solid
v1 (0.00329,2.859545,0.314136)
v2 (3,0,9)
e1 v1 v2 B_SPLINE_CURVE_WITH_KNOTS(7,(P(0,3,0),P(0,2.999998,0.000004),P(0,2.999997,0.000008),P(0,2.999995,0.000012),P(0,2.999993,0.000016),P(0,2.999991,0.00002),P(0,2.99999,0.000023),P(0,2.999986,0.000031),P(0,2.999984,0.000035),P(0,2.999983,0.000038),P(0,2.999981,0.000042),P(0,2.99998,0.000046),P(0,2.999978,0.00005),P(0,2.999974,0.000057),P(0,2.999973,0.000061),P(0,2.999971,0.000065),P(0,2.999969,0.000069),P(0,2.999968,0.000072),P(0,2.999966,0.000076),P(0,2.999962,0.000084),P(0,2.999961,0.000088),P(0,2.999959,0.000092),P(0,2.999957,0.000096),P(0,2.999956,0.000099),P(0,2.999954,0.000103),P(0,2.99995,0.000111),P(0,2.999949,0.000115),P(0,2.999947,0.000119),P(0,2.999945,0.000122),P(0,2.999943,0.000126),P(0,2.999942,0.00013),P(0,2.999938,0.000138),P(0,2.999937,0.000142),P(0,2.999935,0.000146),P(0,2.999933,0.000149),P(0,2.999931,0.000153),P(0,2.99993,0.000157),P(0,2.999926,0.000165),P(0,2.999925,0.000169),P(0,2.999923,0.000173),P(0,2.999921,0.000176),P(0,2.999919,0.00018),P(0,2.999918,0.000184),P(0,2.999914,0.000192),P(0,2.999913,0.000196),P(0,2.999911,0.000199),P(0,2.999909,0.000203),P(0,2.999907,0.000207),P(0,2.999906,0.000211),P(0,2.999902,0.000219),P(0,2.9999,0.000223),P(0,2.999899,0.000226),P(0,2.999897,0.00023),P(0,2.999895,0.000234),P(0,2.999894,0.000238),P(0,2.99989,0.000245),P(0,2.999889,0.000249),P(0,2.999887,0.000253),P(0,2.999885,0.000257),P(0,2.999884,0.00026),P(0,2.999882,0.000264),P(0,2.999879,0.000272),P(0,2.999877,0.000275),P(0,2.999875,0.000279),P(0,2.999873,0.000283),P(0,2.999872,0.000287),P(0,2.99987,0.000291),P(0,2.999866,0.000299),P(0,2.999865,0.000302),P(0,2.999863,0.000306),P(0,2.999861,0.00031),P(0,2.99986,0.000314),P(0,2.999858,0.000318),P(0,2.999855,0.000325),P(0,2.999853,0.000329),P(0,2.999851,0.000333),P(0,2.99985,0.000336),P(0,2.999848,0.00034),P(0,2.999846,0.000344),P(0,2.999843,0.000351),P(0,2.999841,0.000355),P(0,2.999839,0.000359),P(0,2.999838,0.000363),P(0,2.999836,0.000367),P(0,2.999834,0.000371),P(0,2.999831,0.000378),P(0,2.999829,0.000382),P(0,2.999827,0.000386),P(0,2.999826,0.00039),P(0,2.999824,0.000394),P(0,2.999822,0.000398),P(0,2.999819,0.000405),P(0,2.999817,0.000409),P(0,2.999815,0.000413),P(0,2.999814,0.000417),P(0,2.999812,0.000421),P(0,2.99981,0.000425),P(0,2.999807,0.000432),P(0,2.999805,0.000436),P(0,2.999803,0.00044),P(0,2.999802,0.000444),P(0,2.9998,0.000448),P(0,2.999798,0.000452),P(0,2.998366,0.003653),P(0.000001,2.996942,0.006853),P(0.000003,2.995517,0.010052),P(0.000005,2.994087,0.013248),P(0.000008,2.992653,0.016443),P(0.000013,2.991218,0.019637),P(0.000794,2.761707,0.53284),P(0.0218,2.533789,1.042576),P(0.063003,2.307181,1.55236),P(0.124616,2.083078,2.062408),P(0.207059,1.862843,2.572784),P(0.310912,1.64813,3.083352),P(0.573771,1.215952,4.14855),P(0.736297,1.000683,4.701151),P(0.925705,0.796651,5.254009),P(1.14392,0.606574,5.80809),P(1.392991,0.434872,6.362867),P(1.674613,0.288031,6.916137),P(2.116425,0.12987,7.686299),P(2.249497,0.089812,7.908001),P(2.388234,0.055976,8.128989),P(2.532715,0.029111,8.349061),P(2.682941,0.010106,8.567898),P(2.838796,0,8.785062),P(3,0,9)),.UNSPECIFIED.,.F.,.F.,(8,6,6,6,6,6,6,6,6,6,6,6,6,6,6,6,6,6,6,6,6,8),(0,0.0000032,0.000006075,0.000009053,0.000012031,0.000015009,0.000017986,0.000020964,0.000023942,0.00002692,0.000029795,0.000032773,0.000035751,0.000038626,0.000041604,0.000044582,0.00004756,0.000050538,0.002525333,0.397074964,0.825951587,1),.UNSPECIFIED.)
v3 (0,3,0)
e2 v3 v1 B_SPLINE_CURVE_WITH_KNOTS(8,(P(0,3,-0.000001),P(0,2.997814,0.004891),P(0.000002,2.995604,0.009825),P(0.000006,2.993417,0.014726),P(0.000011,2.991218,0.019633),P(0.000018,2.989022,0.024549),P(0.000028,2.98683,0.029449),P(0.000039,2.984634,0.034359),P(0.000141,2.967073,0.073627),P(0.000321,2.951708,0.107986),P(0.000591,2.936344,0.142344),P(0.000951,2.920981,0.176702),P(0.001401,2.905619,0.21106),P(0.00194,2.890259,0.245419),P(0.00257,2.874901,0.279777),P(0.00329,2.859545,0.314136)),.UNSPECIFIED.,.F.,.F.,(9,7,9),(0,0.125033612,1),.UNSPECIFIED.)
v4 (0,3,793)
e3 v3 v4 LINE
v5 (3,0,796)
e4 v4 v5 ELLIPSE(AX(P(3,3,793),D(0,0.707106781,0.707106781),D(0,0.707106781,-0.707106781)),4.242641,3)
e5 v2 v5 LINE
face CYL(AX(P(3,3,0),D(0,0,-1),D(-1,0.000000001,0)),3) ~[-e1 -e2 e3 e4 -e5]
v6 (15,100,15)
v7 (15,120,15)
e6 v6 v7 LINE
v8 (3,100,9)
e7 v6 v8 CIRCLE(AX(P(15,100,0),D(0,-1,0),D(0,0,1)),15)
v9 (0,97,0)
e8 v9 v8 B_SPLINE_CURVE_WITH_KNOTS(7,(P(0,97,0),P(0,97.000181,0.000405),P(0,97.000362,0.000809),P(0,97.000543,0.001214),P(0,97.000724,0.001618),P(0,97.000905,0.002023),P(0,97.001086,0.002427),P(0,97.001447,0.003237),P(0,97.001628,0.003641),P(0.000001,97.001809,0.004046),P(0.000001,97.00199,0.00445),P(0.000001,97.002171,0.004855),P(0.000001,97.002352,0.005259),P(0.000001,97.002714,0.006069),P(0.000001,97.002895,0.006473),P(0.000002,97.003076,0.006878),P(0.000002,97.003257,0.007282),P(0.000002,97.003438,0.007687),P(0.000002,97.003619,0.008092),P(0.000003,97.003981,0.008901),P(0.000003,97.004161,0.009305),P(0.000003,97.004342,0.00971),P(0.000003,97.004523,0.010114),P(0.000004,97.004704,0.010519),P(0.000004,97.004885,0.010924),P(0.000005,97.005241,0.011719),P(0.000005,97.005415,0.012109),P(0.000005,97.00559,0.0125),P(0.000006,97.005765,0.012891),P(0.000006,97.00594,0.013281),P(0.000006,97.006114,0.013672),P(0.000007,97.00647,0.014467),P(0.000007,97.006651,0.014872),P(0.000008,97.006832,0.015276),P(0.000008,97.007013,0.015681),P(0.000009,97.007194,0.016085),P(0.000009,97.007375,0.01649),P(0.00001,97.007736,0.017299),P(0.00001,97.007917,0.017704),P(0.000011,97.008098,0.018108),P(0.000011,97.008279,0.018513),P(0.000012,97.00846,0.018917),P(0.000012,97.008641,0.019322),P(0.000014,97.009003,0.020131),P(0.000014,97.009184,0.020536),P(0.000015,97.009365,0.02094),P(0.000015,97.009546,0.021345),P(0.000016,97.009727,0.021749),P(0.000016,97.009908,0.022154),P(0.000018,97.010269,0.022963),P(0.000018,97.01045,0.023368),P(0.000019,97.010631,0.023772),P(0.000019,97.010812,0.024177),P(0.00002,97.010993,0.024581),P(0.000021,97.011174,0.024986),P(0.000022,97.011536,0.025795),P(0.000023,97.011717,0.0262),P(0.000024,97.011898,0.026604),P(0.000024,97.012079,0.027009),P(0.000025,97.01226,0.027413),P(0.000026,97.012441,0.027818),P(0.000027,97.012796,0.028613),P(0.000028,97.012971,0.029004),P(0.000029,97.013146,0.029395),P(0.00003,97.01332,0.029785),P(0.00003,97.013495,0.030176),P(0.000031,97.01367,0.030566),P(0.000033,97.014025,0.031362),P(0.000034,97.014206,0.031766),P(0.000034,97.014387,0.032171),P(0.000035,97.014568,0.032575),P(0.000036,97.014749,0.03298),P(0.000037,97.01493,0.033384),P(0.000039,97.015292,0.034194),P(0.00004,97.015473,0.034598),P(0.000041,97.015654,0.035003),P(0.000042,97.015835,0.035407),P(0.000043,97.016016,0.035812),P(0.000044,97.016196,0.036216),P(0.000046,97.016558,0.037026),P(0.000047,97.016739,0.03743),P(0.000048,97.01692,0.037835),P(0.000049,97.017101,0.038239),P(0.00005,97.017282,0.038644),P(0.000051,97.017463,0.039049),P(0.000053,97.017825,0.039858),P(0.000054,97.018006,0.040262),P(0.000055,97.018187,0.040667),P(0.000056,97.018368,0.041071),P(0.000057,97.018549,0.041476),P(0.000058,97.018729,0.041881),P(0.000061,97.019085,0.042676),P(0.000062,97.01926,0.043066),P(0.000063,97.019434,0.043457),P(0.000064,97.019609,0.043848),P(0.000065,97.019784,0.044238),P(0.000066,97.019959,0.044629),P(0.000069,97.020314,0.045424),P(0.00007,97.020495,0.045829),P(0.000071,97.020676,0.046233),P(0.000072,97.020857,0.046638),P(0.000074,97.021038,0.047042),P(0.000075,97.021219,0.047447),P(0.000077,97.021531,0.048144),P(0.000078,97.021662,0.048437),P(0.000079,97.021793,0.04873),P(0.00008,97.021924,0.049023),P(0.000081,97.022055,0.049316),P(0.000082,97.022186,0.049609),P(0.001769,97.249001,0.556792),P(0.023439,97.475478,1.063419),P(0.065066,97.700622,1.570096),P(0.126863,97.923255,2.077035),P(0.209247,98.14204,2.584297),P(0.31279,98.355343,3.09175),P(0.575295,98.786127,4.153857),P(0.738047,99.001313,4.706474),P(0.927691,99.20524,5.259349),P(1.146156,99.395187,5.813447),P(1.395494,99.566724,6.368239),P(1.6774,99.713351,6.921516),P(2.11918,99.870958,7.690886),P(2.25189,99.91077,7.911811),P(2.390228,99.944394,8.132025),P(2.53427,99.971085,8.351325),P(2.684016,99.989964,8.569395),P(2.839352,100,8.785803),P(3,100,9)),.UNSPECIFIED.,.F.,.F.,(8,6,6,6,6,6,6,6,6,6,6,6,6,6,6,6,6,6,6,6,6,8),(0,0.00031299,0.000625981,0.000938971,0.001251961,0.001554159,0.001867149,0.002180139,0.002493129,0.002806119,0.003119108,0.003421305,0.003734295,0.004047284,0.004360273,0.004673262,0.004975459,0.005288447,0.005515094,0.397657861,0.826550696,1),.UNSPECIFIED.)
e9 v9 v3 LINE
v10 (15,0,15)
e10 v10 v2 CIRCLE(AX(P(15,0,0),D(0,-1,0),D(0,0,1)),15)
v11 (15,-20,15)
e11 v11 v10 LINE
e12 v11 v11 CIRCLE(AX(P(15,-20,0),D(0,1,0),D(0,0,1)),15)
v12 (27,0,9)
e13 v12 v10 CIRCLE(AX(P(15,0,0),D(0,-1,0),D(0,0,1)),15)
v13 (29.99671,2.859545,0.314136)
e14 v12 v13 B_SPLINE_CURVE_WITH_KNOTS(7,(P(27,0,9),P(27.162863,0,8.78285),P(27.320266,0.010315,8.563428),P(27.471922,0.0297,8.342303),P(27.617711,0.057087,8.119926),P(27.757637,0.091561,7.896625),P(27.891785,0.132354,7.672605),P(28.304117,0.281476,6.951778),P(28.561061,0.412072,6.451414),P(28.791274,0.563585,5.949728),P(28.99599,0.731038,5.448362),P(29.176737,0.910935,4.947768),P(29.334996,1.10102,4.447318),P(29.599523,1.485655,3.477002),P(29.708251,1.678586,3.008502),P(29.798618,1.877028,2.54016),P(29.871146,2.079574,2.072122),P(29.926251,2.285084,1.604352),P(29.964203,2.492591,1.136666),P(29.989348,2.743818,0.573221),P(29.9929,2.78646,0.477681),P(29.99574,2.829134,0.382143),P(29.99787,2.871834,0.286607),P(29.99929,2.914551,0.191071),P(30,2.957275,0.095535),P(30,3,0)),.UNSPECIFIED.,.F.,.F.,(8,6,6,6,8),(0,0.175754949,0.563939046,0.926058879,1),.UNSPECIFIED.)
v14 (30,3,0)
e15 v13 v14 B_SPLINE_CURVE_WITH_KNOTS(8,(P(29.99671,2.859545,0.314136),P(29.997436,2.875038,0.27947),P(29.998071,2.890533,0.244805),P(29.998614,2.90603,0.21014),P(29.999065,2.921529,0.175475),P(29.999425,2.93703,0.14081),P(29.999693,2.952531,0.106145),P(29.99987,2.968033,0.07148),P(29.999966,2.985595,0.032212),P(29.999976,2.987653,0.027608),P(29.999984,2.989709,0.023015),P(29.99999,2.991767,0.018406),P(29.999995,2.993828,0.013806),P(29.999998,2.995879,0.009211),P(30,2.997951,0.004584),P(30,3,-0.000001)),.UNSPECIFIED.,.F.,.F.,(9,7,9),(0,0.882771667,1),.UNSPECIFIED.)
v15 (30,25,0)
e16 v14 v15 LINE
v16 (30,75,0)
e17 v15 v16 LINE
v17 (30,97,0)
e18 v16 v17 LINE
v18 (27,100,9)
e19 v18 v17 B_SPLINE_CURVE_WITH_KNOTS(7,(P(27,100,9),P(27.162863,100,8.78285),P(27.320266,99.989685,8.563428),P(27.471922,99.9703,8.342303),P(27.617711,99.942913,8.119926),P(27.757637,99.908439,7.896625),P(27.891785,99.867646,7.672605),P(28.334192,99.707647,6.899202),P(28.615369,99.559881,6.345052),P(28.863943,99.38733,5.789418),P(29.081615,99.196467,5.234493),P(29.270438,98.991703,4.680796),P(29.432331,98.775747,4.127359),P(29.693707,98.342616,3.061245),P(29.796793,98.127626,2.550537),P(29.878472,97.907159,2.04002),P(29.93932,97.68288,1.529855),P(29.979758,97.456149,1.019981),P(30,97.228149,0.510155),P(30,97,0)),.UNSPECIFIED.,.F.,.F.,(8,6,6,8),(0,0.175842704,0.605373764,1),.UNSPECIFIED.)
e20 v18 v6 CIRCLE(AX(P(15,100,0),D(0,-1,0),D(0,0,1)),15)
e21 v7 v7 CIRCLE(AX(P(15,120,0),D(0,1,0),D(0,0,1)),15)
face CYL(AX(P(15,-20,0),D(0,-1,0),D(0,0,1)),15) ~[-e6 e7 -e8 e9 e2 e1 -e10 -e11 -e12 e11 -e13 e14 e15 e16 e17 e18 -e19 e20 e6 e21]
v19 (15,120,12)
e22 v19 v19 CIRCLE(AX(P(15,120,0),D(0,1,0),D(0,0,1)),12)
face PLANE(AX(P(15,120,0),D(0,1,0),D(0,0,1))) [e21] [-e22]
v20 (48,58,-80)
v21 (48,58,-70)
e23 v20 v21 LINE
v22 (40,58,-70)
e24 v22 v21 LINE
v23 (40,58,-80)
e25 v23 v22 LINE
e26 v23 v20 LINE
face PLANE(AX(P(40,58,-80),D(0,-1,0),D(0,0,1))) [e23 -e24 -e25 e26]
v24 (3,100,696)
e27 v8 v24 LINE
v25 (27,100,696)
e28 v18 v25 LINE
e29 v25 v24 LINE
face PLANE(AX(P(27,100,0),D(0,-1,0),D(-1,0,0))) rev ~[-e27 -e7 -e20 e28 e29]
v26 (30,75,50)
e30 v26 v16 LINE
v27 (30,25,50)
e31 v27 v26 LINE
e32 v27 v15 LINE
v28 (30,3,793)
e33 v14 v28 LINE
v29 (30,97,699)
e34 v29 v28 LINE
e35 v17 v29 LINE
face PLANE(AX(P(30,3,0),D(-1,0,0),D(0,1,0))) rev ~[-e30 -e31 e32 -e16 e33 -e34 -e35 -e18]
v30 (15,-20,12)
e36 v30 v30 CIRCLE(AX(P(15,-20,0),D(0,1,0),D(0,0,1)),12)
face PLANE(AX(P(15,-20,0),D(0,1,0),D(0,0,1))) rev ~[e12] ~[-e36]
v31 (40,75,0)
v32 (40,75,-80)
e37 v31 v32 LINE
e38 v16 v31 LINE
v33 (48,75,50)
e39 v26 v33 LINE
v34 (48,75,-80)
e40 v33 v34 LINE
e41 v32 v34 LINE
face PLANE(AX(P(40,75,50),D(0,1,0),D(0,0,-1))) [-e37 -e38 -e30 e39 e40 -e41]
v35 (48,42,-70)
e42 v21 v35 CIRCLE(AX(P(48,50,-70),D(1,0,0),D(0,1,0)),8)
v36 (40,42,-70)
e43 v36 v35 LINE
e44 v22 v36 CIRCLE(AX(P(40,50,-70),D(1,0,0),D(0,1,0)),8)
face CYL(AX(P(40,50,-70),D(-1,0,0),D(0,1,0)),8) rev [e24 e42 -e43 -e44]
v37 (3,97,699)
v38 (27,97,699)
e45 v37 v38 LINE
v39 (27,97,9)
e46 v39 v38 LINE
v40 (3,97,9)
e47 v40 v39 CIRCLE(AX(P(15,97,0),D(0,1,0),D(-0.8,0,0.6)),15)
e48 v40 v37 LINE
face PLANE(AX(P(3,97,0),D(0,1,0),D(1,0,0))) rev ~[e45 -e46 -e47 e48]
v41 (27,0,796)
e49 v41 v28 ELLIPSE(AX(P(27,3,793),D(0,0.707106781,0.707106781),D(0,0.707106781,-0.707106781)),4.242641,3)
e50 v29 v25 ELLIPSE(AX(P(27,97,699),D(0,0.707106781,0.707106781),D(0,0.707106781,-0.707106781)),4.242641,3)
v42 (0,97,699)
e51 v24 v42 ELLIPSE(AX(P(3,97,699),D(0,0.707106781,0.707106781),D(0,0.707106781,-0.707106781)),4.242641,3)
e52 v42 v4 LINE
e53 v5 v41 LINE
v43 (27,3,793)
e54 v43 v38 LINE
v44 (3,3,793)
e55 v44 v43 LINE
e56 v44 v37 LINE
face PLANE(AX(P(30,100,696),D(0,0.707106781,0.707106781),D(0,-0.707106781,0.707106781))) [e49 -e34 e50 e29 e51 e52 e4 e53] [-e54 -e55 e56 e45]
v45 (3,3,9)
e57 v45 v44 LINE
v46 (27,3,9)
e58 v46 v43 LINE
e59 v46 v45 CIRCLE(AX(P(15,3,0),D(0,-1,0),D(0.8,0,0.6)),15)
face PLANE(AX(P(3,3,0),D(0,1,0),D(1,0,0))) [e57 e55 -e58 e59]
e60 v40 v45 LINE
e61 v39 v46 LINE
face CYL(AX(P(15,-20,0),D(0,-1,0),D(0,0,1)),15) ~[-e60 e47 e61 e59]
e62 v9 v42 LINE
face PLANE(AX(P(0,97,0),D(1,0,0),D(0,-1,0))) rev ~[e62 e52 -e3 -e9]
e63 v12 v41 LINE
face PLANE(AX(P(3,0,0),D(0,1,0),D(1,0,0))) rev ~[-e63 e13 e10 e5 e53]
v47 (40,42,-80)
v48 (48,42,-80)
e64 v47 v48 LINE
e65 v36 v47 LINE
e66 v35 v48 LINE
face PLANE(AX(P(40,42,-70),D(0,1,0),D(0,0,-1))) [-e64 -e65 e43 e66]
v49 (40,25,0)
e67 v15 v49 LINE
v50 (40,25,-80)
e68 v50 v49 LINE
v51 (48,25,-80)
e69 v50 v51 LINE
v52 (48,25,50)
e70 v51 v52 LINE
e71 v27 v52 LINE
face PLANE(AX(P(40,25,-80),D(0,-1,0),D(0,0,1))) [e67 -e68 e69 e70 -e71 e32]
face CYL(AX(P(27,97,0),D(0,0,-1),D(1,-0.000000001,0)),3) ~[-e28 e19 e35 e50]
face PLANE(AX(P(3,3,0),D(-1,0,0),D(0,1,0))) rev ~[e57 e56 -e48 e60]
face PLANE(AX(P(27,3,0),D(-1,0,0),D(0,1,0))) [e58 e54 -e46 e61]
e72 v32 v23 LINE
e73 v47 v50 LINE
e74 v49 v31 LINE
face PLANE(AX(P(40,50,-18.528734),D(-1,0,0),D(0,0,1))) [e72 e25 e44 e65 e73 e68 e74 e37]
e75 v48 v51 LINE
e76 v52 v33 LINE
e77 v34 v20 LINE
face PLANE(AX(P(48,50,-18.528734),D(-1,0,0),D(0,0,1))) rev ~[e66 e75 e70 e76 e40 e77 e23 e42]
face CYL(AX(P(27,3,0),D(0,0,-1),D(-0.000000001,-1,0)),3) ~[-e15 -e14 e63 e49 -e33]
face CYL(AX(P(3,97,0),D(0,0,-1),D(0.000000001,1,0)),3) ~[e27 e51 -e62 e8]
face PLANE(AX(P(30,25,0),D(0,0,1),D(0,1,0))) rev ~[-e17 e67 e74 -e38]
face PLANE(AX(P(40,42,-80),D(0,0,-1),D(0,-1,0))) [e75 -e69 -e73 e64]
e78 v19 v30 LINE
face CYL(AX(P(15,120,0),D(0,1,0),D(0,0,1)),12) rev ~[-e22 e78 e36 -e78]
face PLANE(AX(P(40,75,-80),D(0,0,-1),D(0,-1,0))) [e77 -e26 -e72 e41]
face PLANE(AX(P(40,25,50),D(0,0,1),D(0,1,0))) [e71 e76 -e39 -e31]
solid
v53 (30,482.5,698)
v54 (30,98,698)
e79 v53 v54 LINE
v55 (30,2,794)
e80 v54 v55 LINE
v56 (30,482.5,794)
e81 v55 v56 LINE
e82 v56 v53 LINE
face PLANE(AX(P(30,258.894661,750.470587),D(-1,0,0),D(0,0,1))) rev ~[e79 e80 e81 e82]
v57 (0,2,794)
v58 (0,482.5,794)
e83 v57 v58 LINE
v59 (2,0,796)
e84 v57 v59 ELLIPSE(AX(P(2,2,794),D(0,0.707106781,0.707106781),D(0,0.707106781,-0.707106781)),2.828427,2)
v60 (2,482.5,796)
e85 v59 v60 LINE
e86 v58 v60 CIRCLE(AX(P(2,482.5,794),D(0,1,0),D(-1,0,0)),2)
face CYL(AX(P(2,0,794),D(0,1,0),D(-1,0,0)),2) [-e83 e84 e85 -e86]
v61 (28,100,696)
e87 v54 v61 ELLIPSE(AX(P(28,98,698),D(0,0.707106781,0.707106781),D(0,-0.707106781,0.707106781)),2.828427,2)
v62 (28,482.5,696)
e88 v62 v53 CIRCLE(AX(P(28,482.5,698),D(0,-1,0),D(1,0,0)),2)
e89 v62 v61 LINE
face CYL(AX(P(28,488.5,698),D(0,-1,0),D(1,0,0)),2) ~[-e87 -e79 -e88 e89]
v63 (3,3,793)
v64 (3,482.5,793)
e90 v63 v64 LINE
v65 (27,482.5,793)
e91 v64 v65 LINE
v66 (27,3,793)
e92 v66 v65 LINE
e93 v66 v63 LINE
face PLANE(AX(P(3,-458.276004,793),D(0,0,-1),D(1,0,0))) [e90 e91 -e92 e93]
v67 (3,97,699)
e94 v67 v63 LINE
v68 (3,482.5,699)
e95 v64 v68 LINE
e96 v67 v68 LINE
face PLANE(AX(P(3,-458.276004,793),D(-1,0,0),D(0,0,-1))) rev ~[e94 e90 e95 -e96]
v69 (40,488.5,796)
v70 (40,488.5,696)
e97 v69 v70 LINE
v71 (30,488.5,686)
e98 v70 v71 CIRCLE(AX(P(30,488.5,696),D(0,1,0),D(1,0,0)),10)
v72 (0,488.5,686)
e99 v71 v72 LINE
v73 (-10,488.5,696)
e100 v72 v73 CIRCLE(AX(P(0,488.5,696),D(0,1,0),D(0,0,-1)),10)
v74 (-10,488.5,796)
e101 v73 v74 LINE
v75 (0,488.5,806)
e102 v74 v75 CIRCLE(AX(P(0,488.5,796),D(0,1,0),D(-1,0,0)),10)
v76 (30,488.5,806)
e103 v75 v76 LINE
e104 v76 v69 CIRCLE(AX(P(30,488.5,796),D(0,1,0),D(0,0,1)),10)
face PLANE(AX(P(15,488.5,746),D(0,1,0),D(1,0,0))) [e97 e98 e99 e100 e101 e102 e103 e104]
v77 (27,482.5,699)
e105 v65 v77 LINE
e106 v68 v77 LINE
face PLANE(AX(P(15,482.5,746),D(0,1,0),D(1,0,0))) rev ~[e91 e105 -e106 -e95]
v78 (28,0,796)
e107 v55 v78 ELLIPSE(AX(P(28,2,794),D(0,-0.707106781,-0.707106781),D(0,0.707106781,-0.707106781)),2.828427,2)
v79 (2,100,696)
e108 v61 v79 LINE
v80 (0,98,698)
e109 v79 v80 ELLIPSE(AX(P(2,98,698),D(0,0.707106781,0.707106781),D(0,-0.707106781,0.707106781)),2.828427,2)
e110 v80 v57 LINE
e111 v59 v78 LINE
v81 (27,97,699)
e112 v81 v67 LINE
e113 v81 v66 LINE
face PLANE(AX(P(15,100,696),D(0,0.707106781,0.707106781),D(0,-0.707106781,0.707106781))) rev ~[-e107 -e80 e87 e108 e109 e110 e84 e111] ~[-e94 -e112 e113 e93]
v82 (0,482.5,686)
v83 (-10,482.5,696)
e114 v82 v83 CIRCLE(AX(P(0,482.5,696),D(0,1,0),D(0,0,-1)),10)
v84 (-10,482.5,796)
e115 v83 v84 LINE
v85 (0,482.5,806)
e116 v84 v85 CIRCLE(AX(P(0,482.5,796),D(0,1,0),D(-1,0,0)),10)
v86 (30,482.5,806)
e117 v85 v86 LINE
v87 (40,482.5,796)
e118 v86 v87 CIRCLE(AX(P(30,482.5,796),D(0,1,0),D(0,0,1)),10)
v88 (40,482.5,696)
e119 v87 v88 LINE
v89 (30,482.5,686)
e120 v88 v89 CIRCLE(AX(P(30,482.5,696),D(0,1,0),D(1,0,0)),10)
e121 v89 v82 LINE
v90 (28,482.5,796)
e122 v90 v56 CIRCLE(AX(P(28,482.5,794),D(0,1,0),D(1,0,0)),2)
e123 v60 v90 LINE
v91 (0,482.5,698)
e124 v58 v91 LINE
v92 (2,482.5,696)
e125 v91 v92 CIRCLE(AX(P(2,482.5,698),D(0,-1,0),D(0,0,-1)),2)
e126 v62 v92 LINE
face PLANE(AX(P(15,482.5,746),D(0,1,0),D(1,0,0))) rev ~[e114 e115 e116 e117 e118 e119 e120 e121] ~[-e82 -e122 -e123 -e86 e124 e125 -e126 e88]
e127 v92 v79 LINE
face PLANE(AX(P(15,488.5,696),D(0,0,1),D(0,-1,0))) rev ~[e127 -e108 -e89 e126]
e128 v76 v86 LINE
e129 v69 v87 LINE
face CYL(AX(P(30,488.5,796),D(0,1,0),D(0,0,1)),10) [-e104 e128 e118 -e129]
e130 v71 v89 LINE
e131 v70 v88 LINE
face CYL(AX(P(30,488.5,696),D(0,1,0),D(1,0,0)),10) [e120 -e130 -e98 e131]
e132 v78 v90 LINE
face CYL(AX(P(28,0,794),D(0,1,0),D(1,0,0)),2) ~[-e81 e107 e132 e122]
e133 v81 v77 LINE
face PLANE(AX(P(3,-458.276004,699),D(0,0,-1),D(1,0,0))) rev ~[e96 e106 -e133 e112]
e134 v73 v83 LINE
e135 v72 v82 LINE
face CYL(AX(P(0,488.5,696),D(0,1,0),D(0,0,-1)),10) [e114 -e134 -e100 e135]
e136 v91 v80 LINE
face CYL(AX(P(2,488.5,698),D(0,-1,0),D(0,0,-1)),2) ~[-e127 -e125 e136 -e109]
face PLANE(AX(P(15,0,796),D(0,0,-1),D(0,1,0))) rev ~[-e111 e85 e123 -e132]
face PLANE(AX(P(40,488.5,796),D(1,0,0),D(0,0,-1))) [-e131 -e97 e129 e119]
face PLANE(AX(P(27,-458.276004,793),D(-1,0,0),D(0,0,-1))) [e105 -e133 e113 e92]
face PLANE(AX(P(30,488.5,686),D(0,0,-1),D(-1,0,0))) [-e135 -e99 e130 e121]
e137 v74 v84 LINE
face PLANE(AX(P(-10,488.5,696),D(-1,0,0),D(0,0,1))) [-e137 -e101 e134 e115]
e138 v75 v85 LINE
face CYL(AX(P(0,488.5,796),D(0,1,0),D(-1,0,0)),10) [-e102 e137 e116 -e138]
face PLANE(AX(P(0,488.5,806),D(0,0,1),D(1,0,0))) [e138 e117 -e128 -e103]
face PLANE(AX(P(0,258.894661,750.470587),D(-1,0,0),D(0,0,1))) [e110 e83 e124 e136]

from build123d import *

# Parameters (mm, degrees)
SCHIZZO1_W                        = 24
SCHIZZO1_H                        = 94
ESTRUSIONE_SOTTILE1_DEPTH         = 796
TAGLIO_ESTRUSIONE1_DEPTH          = 803.817538423
ESTRUSIONE_ESTRUSIONE1_DEPTH      = 20
ESTRUSIONE_ESTRUSIONE1_DEPTH_BACK = 120
SCHIZZO3_R                        = 15
SCHIZZO4_R                        = 12
TAGLIO_ESTRUSIONE2_DEPTH          = 809.774381514
SCHIZZO5_W                        = 50
SCHIZZO5_H                        = 50
ESTRUSIONE_ESTRUSIONE2_DEPTH      = 10
ESTRUSIONE_ESTRUSIONE3_DEPTH      = 8
ESTRUSIONE_ESTRUSIONE4_DEPTH      = 15
RACCORDO1_R                       = 2
TAGLIO_ESTRUSIONE3_DEPTH          = 946.776004274
TAGLIO_ESTRUSIONE3_DEPTH_BACK     = 946.776004274
SCHIZZO8_W                        = 24
SCHIZZO8_H                        = 94
ESTRUSIONE_ESTRUSIONE5_DEPTH      = 6


with BuildPart() as part:
    # Schizzo1 → Estrusione-Sottile1 (new body)
    with BuildSketch(Plane.XY):
        with BuildLine():
            Line((0, 97), (0, 3))
            ThreePointArc((0, 3), (0.878679656, 0.878679656), (3, 0))
            Line((3, 0), (27, 0))
            ThreePointArc((27, 0), (29.121320344, 0.878679656), (30, 3))
            Line((30, 3), (30, 97))
            ThreePointArc((30, 97), (29.121320344, 99.121320344), (27, 100))
            Line((27, 100), (3, 100))
            ThreePointArc((3, 100), (0.878679656, 99.121320344), (0, 97))
        make_face()
        with Locations((15, 50)):
            Rectangle(SCHIZZO1_W, SCHIZZO1_H, mode=Mode.SUBTRACT)
    extrude(amount=ESTRUSIONE_SOTTILE1_DEPTH)

    # Schizzo2 → Taglio-Estrusione1 (cut, through all)
    with BuildSketch(Plane(origin=(30, 0, 0), x_dir=(0, 0, -1), z_dir=(1, 0, 0))):
        Polygon((-796, 100), (-696, 100), (-796, 0), align=None)
    extrude(amount=-TAGLIO_ESTRUSIONE1_DEPTH, mode=Mode.SUBTRACT)

    # Schizzo3 → Estrusione-Estrusione1 (add, two sides: drawn at the far end of the back side and taken through both)
    with BuildSketch(Plane(origin=(0, 100, 0), x_dir=(1, 0, 0), z_dir=(0, 1, 0)).offset(-ESTRUSIONE_ESTRUSIONE1_DEPTH_BACK)):
        with Locations(Location((15, 0, 0), (0, 0, 270))):
            Circle(SCHIZZO3_R)
    extrude(amount=ESTRUSIONE_ESTRUSIONE1_DEPTH + ESTRUSIONE_ESTRUSIONE1_DEPTH_BACK)

    # Schizzo4 → Taglio-Estrusione2 (cut, through all)
    with BuildSketch(Plane(origin=(0, 120, 0), x_dir=(1, 0, 0), z_dir=(0, 1, 0))):
        with Locations(Location((15, 0, 0), (0, 0, 270))):
            Circle(SCHIZZO4_R)
    extrude(amount=-TAGLIO_ESTRUSIONE2_DEPTH, mode=Mode.SUBTRACT)

    # Schizzo5 → Estrusione-Estrusione2 (add)
    with BuildSketch(Plane(origin=(30, 0, 0), x_dir=(0, 0, -1), z_dir=(1, 0, 0))):
        with Locations((-25, 50)):
            Rectangle(SCHIZZO5_W, SCHIZZO5_H)
    extrude(amount=ESTRUSIONE_ESTRUSIONE2_DEPTH)

    # Schizzo6 → Estrusione-Estrusione3 (add)
    with BuildSketch(Plane(origin=(40, 0, 0), x_dir=(0, 0, -1), z_dir=(1, 0, 0))):
        with BuildLine():
            Line((-50, 75), (80, 75))
            Line((80, 75), (80, 58))
            Line((80, 58), (70, 58))
            ThreePointArc((70, 58), (62, 50), (70, 42))
            Line((70, 42), (80, 42))
            Line((80, 42), (80, 25))
            Line((80, 25), (-50, 25))
            Line((-50, 25), (-50, 75))
        make_face()
    extrude(amount=ESTRUSIONE_ESTRUSIONE3_DEPTH)


with BuildPart() as body_2:
    # Schizzo7 → Estrusione-Estrusione4 (new, symmetric)
    with BuildSketch(Plane(origin=(15, 0, 0), x_dir=(0, 0, -1), z_dir=(1, 0, 0))):
        Polygon((-796, 488.5), (-696, 488.5), (-696, 100), (-796, 0), align=None)
    extrude(amount=ESTRUSIONE_ESTRUSIONE4_DEPTH, both=True)

    # Raccordo1
    raccordo1_edges = [body_2.edges().sort_by_distance(p)[0] for p in [
        (30, 244.25, 796),
        (0, 244.25, 796),
        (0, 294.25, 696),
        (30, 294.25, 696),
    ]]
    fillet(raccordo1_edges, radius=RACCORDO1_R)

    # Schizzo8 → Taglio-Estrusione3 (cut, two sides: drawn at the far end of the back side and taken through both)
    with BuildSketch(Plane(origin=(0, 488.5, 0), x_dir=(1, 0, 0), z_dir=(0, 1, 0)).offset(-TAGLIO_ESTRUSIONE3_DEPTH_BACK)):
        with Locations((15, -746)):
            Rectangle(SCHIZZO8_W, SCHIZZO8_H)
    extrude(amount=TAGLIO_ESTRUSIONE3_DEPTH + TAGLIO_ESTRUSIONE3_DEPTH_BACK, mode=Mode.SUBTRACT)

    # Schizzo9 → Estrusione-Estrusione5 (add)
    with BuildSketch(Plane(origin=(0, 488.5, 0), x_dir=(1, 0, 0), z_dir=(0, 1, 0))):
        with BuildLine():
            Line((0, -806), (30, -806))
            ThreePointArc((30, -806), (37.071067812, -803.071067812), (40, -796))
            Line((40, -796), (40, -696))
            ThreePointArc((40, -696), (37.071067812, -688.928932188), (30, -686))
            Line((30, -686), (0, -686))
            ThreePointArc((0, -686), (-7.071067812, -688.928932188), (-10, -696))
            Line((-10, -696), (-10, -796))
            ThreePointArc((-10, -796), (-7.071067812, -803.071067812), (0, -806))
        make_face()
    extrude(amount=-ESTRUSIONE_ESTRUSIONE5_DEPTH)


solid = Compound([part.part, body_2.part])
